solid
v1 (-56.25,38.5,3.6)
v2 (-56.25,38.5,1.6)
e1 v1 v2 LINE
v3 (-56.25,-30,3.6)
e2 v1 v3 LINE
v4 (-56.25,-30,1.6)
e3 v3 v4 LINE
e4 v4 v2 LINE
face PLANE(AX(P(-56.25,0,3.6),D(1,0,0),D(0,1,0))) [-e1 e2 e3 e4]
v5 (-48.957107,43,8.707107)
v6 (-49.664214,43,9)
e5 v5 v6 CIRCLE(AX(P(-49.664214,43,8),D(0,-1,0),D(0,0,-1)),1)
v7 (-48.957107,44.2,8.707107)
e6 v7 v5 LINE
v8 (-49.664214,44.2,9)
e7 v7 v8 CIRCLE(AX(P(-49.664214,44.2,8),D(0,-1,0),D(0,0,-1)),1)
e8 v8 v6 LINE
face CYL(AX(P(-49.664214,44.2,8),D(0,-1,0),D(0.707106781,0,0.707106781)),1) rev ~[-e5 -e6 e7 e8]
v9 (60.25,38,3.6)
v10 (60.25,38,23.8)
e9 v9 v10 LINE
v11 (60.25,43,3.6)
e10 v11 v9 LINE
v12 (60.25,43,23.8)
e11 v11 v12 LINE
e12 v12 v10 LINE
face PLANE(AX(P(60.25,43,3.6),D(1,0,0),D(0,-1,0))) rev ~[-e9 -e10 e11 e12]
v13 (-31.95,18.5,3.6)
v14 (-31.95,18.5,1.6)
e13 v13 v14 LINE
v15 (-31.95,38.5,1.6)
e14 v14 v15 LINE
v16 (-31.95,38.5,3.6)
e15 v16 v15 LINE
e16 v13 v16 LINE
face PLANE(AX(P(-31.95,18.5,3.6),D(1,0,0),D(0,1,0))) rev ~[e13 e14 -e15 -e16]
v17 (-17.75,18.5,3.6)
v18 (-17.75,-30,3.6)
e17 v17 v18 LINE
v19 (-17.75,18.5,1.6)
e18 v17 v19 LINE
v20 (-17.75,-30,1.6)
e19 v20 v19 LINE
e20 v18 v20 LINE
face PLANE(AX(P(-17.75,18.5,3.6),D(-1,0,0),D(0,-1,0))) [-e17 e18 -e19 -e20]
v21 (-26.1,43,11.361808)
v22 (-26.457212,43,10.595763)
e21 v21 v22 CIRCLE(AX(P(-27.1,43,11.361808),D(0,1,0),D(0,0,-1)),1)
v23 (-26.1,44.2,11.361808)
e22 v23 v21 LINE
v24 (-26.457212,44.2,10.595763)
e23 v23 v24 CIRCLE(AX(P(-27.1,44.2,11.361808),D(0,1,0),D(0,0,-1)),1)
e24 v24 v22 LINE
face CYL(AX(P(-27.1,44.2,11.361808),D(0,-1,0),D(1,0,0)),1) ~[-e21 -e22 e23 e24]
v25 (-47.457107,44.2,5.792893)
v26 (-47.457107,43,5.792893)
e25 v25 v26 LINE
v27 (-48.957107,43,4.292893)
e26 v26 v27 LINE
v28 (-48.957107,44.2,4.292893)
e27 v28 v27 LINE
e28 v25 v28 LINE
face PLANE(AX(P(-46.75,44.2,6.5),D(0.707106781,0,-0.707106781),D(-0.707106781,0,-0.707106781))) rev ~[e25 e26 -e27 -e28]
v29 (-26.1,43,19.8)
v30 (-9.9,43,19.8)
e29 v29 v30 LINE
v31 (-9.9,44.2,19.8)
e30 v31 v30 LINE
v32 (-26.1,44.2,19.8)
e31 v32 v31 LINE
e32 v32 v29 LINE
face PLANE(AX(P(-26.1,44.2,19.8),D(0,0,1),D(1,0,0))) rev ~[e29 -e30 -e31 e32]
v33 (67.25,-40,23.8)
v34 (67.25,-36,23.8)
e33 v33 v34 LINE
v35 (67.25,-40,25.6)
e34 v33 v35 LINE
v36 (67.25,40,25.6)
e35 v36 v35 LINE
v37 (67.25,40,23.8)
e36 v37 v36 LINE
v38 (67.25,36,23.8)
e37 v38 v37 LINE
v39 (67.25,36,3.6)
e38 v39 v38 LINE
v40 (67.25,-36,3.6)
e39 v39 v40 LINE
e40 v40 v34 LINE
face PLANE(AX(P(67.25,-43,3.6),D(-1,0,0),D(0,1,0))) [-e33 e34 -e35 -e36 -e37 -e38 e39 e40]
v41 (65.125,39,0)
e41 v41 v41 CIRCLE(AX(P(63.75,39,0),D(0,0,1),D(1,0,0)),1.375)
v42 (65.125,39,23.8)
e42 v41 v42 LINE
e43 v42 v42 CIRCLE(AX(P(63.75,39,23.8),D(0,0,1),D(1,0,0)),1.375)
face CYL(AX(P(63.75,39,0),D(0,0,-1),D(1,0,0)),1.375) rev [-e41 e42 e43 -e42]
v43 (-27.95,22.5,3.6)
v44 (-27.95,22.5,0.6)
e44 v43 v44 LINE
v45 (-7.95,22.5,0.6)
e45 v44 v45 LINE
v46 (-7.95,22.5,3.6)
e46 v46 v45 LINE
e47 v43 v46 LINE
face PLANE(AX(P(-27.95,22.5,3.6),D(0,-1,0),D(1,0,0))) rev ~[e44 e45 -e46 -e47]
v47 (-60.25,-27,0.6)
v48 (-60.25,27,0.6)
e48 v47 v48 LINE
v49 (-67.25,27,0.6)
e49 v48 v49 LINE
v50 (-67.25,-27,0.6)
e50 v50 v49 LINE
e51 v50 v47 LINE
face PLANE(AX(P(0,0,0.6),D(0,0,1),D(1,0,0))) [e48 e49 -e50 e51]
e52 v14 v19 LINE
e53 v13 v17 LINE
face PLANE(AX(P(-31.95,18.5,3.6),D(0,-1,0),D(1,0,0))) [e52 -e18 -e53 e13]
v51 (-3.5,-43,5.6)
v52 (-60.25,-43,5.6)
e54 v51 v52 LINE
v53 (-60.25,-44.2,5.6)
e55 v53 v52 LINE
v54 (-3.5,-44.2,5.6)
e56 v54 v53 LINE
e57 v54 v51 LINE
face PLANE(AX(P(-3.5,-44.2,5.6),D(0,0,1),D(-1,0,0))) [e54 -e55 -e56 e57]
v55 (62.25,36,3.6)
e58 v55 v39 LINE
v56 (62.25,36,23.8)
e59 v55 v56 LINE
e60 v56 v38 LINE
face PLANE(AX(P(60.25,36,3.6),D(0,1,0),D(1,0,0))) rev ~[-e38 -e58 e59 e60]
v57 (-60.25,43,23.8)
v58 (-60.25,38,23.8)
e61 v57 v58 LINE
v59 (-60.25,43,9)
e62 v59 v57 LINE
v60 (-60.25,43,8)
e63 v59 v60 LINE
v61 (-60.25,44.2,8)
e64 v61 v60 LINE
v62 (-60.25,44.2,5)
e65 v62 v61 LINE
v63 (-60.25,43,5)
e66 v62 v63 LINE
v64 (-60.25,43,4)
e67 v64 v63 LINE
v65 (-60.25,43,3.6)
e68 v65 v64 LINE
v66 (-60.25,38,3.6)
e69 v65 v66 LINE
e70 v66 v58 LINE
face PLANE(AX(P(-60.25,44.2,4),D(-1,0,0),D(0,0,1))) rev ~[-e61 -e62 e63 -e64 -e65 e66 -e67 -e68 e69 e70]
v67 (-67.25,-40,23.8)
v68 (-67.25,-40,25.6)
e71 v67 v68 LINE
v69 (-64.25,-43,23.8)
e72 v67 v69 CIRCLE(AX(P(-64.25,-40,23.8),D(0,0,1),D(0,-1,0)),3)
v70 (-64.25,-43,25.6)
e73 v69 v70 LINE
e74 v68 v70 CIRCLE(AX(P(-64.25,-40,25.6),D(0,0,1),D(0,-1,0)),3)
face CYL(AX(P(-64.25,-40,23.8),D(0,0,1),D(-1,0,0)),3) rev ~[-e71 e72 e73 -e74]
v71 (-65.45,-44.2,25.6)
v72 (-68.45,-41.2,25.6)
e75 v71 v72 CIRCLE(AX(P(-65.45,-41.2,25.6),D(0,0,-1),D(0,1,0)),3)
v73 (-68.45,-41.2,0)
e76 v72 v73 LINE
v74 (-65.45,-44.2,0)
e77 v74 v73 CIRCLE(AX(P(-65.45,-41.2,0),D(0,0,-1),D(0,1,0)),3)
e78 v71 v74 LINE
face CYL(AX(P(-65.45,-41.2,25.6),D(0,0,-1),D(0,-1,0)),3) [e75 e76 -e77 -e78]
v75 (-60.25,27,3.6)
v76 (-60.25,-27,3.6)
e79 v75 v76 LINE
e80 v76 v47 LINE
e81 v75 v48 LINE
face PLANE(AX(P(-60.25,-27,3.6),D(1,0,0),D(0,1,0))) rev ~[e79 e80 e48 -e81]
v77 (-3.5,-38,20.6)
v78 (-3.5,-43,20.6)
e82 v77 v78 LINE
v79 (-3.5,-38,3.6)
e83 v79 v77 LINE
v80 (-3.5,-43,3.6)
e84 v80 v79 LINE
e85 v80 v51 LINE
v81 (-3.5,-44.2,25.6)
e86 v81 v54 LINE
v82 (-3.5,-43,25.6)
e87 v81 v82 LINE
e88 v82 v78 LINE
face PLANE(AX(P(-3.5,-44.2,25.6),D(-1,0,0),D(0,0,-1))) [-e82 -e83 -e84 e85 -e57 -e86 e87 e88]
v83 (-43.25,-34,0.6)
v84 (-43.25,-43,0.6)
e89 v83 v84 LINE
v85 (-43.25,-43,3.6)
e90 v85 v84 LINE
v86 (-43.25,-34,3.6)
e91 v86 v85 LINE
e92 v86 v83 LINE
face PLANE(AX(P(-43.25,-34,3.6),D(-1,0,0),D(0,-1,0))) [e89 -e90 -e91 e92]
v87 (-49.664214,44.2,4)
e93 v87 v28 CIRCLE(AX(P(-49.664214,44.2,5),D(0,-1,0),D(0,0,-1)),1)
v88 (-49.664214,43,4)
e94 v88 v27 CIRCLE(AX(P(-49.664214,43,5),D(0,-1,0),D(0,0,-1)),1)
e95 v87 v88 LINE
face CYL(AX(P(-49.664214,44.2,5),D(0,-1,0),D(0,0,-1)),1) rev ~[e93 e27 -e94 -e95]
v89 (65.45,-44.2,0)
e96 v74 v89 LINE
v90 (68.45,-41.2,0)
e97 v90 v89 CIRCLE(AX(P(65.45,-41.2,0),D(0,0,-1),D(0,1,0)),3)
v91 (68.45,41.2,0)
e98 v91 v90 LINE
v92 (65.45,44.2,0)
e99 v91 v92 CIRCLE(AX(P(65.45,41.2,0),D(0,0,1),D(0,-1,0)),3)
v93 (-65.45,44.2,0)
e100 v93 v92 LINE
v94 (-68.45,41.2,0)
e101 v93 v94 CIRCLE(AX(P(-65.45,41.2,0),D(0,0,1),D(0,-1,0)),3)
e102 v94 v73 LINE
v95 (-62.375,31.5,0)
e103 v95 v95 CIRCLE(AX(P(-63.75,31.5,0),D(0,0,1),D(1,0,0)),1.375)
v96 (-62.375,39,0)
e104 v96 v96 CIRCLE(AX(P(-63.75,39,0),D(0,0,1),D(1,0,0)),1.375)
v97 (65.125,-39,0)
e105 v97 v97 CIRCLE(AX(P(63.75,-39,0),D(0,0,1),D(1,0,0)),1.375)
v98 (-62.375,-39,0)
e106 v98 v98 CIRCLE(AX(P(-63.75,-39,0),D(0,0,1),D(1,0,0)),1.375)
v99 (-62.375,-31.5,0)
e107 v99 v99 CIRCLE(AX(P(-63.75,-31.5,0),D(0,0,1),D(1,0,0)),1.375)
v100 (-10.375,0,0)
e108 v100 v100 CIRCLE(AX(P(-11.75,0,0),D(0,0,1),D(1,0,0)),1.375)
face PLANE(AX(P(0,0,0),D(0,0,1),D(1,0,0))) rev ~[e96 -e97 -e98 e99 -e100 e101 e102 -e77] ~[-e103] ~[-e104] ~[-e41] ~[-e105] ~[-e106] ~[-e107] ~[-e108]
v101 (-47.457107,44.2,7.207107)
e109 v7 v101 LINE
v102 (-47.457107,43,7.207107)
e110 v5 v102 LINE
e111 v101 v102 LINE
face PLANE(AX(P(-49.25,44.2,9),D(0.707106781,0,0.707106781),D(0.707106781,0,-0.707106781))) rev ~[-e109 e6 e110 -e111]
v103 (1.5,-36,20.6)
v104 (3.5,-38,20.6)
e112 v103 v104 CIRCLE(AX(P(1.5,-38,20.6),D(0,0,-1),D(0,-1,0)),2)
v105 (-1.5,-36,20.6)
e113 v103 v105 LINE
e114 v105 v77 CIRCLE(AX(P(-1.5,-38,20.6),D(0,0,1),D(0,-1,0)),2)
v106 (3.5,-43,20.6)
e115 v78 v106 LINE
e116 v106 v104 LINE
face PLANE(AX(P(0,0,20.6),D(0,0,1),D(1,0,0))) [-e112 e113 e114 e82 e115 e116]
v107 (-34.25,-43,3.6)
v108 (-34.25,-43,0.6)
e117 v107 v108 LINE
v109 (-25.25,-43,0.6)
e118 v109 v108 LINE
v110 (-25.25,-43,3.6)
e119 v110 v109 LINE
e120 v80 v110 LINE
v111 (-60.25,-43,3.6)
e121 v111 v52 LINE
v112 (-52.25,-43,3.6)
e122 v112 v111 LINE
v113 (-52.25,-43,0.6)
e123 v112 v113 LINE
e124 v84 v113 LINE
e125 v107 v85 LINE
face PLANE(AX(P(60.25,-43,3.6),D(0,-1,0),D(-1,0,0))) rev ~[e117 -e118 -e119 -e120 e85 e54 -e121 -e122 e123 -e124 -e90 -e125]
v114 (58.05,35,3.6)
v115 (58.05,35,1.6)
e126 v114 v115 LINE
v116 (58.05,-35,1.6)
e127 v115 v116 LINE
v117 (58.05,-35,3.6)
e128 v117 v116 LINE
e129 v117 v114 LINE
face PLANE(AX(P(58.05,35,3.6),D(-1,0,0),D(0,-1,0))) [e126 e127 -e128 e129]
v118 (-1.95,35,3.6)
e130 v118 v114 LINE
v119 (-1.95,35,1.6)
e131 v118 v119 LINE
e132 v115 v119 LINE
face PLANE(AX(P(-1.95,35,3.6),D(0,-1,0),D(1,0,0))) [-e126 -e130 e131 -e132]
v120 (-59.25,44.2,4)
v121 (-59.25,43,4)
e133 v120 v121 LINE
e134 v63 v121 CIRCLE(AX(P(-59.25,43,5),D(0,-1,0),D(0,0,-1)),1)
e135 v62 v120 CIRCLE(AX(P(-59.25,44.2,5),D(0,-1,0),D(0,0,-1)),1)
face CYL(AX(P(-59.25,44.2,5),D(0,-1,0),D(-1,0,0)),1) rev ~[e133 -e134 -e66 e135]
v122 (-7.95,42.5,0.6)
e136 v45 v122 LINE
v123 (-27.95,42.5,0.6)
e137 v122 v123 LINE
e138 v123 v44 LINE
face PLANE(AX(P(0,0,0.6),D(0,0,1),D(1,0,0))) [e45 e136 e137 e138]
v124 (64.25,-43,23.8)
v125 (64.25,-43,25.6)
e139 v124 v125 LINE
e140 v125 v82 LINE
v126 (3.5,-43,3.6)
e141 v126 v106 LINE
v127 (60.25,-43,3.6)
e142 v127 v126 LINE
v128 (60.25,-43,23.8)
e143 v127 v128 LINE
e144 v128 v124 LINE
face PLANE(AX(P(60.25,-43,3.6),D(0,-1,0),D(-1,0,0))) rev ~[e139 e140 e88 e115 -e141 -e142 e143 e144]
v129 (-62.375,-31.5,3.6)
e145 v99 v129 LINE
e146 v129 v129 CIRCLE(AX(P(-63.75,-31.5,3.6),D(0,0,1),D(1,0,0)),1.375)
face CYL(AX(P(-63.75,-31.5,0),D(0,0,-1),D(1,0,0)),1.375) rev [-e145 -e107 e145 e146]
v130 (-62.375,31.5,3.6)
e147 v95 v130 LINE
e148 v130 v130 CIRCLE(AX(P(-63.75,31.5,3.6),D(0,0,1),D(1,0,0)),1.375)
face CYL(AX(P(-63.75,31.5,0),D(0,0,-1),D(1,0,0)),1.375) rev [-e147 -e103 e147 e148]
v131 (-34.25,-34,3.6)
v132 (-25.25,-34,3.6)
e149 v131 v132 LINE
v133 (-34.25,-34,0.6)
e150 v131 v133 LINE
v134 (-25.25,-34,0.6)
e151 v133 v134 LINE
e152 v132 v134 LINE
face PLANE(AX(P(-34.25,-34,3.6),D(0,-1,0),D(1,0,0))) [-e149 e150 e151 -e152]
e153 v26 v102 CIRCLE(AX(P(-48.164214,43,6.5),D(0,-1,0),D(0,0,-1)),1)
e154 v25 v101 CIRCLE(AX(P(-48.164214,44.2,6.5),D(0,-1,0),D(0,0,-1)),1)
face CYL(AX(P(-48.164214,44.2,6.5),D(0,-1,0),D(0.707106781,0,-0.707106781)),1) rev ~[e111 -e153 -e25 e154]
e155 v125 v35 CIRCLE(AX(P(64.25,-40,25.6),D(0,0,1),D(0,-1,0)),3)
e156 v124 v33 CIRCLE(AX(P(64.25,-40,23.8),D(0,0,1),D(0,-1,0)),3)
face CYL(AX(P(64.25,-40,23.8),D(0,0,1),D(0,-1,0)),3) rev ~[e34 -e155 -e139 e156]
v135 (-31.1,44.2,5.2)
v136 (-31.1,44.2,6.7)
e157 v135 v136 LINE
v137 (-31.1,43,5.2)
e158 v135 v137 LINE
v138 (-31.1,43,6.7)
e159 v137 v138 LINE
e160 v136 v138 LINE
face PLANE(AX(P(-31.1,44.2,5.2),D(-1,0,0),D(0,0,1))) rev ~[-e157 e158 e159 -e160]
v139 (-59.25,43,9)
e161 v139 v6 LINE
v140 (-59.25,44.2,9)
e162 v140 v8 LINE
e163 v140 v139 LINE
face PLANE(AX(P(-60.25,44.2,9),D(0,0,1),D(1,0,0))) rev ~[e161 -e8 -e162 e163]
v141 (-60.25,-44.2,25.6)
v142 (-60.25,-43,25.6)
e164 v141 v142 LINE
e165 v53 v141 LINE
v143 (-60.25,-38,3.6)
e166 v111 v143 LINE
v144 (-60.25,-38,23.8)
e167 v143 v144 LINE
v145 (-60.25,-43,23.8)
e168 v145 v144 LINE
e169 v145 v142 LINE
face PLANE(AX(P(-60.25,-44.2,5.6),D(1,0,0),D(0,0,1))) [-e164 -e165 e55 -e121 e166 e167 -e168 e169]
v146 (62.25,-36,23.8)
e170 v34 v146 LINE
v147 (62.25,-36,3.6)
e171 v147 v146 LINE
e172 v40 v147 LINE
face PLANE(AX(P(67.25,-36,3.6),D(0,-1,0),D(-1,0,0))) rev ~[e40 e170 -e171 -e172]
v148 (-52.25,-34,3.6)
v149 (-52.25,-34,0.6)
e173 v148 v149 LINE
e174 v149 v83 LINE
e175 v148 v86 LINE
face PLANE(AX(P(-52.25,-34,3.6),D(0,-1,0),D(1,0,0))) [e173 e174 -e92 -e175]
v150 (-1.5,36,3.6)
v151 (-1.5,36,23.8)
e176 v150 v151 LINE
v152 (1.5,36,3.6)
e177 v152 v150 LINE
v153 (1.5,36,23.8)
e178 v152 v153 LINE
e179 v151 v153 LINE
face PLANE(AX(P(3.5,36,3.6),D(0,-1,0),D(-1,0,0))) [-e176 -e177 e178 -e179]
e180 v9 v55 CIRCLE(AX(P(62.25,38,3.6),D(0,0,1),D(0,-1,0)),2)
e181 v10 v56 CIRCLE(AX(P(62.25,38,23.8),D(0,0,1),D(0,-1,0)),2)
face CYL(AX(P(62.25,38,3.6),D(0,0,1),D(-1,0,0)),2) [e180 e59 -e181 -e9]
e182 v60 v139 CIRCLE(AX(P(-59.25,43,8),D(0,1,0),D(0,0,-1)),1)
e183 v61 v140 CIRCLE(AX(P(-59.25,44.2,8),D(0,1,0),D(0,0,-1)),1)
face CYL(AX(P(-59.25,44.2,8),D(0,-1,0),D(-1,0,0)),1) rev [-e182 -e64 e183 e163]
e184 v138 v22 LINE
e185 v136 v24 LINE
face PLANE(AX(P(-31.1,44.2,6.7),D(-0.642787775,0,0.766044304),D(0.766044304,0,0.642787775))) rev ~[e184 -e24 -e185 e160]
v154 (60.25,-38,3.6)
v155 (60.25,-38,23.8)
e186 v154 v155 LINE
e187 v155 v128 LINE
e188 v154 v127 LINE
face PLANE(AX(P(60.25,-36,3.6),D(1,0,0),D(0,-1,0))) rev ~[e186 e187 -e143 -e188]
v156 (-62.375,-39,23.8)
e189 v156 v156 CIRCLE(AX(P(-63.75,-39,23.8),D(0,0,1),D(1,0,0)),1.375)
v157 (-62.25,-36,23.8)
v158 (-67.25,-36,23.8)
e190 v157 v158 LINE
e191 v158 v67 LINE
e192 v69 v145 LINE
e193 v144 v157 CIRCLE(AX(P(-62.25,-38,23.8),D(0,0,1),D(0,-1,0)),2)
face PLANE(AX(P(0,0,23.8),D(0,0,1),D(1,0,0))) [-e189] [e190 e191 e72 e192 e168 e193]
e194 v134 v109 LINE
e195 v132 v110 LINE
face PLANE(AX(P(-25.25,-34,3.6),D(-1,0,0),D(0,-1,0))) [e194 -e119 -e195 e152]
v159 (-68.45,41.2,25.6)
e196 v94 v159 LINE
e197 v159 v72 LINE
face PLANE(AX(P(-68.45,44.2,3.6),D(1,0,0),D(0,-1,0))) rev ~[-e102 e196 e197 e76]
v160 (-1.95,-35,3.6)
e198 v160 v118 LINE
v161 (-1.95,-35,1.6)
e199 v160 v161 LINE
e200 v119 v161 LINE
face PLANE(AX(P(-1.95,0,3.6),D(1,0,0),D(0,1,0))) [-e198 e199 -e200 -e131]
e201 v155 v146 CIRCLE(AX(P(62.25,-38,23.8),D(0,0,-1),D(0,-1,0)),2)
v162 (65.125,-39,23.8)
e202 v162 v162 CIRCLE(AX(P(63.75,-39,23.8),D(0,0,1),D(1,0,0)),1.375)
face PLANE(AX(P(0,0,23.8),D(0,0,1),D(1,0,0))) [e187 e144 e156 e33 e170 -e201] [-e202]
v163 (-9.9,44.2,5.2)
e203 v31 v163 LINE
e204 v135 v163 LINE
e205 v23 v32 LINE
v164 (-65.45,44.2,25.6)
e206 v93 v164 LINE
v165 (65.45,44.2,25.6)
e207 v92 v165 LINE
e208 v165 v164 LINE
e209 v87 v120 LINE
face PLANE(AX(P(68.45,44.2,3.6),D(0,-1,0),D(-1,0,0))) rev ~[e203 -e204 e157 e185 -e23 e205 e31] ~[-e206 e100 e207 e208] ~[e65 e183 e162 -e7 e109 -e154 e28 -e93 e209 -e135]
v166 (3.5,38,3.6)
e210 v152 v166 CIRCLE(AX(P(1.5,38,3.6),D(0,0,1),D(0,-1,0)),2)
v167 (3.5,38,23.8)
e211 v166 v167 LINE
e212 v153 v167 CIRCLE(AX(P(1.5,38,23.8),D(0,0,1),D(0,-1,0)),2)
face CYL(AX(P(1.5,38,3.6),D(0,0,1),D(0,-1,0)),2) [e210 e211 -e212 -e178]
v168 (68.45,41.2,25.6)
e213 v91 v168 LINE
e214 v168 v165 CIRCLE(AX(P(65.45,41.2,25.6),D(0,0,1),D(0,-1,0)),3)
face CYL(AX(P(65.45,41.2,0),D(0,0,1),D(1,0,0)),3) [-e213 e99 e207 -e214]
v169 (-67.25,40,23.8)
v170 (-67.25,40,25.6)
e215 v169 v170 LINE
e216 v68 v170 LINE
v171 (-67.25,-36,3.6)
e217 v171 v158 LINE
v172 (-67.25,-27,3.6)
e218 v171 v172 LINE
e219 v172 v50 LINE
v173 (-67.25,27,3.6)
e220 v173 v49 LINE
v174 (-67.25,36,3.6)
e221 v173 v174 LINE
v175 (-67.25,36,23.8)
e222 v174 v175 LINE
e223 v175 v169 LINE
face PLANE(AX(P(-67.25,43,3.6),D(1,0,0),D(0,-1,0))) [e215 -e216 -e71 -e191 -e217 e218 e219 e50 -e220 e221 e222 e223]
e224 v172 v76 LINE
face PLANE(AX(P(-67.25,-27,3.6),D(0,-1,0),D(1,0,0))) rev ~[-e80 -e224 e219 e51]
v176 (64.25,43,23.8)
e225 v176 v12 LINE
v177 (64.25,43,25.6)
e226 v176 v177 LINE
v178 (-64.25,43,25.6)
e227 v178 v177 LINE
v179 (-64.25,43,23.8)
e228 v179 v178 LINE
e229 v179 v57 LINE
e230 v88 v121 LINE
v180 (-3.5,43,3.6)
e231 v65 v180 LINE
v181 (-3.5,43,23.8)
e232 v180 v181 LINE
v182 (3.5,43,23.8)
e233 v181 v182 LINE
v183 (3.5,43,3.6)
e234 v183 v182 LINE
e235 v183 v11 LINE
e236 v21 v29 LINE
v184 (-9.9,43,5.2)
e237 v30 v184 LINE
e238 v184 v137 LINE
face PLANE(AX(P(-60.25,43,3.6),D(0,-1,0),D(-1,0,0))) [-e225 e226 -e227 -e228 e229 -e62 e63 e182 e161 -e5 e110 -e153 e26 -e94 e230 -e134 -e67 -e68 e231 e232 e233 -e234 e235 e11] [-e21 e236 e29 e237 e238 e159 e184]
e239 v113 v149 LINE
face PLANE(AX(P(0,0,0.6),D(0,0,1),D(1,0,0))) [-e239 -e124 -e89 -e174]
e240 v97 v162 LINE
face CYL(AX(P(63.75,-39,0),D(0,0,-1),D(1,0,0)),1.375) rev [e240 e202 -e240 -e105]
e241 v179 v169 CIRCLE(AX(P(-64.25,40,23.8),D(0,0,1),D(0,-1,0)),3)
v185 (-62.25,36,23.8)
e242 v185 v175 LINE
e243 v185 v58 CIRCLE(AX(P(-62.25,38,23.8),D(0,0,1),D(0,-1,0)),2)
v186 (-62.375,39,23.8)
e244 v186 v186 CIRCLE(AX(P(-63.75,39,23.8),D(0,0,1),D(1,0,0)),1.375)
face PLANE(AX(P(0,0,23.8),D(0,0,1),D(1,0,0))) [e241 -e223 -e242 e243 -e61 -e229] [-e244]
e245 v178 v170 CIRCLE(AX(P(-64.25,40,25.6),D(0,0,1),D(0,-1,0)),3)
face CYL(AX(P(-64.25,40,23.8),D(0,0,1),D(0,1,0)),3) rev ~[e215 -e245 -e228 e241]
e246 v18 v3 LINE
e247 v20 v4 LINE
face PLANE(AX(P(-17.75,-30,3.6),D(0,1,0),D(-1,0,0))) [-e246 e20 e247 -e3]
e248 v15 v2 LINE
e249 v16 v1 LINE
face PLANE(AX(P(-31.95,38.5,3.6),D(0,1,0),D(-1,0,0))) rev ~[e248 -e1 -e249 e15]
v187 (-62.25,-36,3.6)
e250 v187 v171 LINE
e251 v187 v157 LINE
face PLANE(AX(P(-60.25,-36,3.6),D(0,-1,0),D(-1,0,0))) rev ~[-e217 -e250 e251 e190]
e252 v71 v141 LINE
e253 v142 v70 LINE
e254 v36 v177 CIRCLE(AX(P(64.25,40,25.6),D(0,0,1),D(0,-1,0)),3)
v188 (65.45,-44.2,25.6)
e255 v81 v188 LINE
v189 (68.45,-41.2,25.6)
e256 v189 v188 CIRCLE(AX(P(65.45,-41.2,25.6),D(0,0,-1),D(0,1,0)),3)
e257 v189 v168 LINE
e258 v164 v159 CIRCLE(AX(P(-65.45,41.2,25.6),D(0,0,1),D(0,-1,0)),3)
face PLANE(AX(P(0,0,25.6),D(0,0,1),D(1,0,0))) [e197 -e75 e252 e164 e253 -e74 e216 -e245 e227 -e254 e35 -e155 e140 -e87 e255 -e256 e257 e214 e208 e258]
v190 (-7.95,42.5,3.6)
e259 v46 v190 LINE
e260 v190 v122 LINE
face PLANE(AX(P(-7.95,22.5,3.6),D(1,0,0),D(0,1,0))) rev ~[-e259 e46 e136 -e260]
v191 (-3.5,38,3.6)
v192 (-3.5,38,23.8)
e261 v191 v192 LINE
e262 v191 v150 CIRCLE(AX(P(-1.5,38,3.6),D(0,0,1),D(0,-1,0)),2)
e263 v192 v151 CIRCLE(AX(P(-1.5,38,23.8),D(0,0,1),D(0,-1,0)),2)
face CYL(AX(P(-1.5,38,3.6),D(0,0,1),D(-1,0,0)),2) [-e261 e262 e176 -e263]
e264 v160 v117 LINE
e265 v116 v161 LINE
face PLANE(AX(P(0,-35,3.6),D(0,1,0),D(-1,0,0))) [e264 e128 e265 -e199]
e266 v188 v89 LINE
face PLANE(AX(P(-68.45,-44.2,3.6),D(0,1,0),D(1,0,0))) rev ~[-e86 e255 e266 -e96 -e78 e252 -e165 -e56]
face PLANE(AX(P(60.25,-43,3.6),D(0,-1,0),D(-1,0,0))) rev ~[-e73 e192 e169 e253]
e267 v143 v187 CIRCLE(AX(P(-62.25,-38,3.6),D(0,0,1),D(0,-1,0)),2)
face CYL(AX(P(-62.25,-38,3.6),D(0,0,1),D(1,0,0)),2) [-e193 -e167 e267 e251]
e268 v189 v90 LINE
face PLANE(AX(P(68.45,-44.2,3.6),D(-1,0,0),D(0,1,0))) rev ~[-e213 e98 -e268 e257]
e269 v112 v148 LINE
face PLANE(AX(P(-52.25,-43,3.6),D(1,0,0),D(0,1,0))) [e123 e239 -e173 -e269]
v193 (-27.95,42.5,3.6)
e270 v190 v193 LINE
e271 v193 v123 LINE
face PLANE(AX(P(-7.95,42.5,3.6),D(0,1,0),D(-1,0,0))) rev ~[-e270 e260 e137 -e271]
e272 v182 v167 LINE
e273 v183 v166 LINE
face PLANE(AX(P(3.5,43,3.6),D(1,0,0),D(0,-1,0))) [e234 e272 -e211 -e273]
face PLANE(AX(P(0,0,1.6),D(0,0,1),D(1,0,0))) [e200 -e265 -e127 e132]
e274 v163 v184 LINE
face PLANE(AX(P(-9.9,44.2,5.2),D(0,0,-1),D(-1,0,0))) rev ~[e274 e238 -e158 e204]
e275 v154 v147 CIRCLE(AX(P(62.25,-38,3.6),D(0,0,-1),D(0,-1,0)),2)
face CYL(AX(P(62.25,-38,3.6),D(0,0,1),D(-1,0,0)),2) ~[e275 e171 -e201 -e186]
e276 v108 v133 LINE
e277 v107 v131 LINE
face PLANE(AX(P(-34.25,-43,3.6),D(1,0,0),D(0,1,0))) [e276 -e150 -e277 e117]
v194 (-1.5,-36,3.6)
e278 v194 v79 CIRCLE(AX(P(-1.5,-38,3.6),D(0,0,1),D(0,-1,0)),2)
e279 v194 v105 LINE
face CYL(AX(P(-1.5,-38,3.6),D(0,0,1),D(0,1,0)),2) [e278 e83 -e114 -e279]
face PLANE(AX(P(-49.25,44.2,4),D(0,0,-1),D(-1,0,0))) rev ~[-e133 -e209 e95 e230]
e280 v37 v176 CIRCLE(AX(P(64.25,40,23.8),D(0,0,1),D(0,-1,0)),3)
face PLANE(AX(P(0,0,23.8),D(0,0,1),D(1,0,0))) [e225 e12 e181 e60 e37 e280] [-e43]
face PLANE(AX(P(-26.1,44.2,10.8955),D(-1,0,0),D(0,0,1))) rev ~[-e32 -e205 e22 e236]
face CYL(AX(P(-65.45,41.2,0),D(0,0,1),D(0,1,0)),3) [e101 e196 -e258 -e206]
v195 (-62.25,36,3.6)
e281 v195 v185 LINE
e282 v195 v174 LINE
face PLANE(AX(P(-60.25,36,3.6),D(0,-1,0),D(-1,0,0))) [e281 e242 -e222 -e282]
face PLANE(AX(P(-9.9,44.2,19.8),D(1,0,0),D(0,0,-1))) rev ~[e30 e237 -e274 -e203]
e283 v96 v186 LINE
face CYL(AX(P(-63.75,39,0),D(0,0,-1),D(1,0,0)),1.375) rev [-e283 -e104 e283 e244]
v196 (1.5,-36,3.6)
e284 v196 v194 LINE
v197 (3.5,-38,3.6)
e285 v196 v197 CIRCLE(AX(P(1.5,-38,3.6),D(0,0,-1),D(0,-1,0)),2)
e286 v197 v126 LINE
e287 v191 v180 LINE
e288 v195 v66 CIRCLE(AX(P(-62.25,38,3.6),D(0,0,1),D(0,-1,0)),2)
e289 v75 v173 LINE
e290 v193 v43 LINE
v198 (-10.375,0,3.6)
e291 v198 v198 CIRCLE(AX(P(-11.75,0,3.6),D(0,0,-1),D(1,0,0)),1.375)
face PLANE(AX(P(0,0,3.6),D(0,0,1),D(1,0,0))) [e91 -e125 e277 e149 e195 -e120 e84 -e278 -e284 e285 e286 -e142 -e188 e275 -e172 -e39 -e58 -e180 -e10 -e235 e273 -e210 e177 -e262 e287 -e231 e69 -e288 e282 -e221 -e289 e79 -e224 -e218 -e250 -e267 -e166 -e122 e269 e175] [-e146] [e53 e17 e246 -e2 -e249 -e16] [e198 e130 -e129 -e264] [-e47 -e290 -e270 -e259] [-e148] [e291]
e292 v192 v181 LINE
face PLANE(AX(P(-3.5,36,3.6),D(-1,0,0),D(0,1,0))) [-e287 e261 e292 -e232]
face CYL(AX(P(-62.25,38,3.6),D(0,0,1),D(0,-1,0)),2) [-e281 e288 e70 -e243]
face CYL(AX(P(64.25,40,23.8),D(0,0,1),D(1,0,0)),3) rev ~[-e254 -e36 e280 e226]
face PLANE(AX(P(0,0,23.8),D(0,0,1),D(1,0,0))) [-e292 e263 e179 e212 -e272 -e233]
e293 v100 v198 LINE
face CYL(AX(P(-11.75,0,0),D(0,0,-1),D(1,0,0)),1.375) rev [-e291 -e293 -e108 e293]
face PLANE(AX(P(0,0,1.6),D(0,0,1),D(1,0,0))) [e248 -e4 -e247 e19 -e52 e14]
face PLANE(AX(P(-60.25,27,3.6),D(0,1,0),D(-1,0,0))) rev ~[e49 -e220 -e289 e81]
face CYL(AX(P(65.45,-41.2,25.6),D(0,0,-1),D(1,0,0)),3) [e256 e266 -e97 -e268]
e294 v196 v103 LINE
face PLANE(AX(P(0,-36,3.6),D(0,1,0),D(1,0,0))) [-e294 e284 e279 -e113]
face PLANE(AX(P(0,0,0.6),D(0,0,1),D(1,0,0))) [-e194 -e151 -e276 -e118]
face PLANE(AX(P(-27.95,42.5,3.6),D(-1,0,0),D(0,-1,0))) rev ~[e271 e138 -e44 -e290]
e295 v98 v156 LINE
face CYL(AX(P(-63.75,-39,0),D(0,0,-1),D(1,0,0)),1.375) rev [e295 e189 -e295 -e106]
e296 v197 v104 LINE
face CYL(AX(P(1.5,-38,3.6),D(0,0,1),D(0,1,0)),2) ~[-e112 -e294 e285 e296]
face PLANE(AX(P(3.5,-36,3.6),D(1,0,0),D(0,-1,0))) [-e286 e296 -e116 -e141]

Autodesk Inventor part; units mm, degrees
ref_plane "YZ Plane" through (0, 0, 0) normal (1, 0, 0) x (0, 1, 0)
ref_plane "XZ Plane" through (0, 0, 0) normal (0, 1, 0) x (-1, 0, 0)
ref_plane "XY Plane" through (0, 0, 0) normal (0, 0, 1) x (1, 0, 0)
sketch "Skizze1" plane through (0, 0, 0) normal (0, 0, 1) x (1, 0, 0)
  line L0 (-68.45, -44.2) -> (68.45, -44.2)
  line L1 (68.45, -44.2) -> (68.45, 44.2)
  line L2 (68.45, 44.2) -> (-68.45, 44.2)
  line L3 (-68.45, 44.2) -> (-68.45, -44.2)
  line L4 (-68.45, -44.2) -> (68.45, 44.2) construction
  line L5 (68.45, -44.2) -> (-68.45, 44.2) construction
  circle A0 centre (-63.75, -39) radius 1.375
  circle A1 centre (63.75, -39) radius 1.375
  circle A2 centre (63.75, 39) radius 1.375
  circle A3 centre (-63.75, 39) radius 1.375
  line L6 (0, 61.88) -> (0, -61.88) projected
  line L7 (-95.83, 0) -> (95.83, 0) projected
  circle A4 centre (-63.75, 31.5) radius 1.375
  circle A5 centre (-63.75, -31.5) radius 1.375
  line L8 (-63.75, 39) -> (-63.75, 31.5) construction
  circle A6 centre (-11.75, 0) radius 1.375
  point P0 (0, 0)
  dimension "d0" = 136.9
  dimension "d1" = 88.4
  dimension "d2" = 2.75
  dimension "d3" = 127.5
  dimension "d4" = 78
  dimension "d7" = 63
  dimension "d8" = 2.75
  dimension "d9" = 2.75
  dimension "d10" = 52
extrude "Extrusion1" add sketch "Skizze1" along normal blind 3.6 contours L3 L7 A6 L6 L0 | L6 L7 L1 L0 | L3 L2 L6 L7 A6 | L6 L2 L1 L7
sketch "Skizze2" plane through (0, 0, 0) normal (0, 0, -1) x (-1, 0, 0)
  circle A0 centre (63.75, -31.5) radius 1.375 projected
  circle A1 centre (63.75, 31.5) radius 1.375 projected
  circle A2 centre (11.75, 0) radius 1.375 projected
  line L0 (67.05, -28.2) -> (60.45, -28.2)
  line L1 (60.45, -28.2) -> (60.45, -34.8)
  line L2 (60.45, -34.8) -> (67.05, -34.8)
  line L3 (67.05, -34.8) -> (67.05, -28.2)
  line L4 (67.05, -28.2) -> (60.45, -34.8) construction
  line L5 (60.45, -28.2) -> (67.05, -34.8) construction
  line L6 (67.05, 34.8) -> (60.45, 34.8)
  line L7 (60.45, 34.8) -> (60.45, 28.2)
  line L8 (60.45, 28.2) -> (67.05, 28.2)
  line L9 (67.05, 28.2) -> (67.05, 34.8)
  circle A3 centre (63.75, 31.5) radius 1.375 projected
  line L10 (67.05, 34.8) -> (60.45, 28.2) construction
  line L11 (60.45, 34.8) -> (67.05, 28.2) construction
  line L12 (15.05, 3.3) -> (8.45, 3.3)
  line L13 (8.45, 3.3) -> (8.45, -3.3)
  line L14 (8.45, -3.3) -> (15.05, -3.3)
  line L15 (15.05, -3.3) -> (15.05, 3.3)
  line L16 (15.05, 3.3) -> (8.45, -3.3) construction
  line L17 (8.45, 3.3) -> (15.05, -3.3) construction
  point P0 (0, 0)
  dimension "d11" = 6.6
  dimension "d12" = 6.6
extrude "Extrusion2" [suppressed]
sketch "Skizze3" plane through (0, 0, 3.6) normal (0, 0, 1) x (1, 0, 0)
  circle A0 centre (-63.75, 31.5) radius 1.375 projected
  circle A1 centre (-63.75, -31.5) radius 1.375 projected
  circle A2 centre (-11.75, 0) radius 1.375 projected
  line L0 (-63.75, 31.5) -> (-63.75, -31.5) construction
  line L1 (-95.83, 0) -> (95.83, 0) projected
  line L2 (-67.25, -27) -> (-60.25, -27)
  line L3 (-60.25, -27) -> (-60.25, 27)
  line L4 (-60.25, 27) -> (-67.25, 27)
  line L5 (-67.25, 27) -> (-67.25, -27)
  line L6 (-67.25, -27) -> (-60.25, 27) construction
  line L7 (-60.25, -27) -> (-67.25, 27) construction
  line L8 (-52.25, -34) -> (-43.25, -34)
  line L9 (-43.25, -34) -> (-43.25, -43)
  line L10 (-43.25, -43) -> (-52.25, -43)
  line L11 (-52.25, -43) -> (-52.25, -34)
  line L12 (-34.25, -34) -> (-25.25, -34)
  line L13 (-25.25, -34) -> (-25.25, -43)
  line L14 (-25.25, -43) -> (-34.25, -43)
  line L15 (-34.25, -43) -> (-34.25, -34)
  line L16 (-47.75, -34) -> (-47.75, -43) construction
  line L17 (-29.75, -34) -> (-29.75, -43) construction
  line L18 (-52.25, -38.5) -> (-43.25, -38.5) construction
  line L19 (-27.95, 22.5) -> (-7.95, 22.5)
  line L20 (-7.95, 22.5) -> (-7.95, 42.5)
  line L21 (-7.95, 42.5) -> (-27.95, 42.5)
  line L22 (-27.95, 42.5) -> (-27.95, 22.5)
  line L23 (-17.95, 42.5) -> (-17.95, 22.5) construction
  point P0 (0, 0)
  point P1 (-63.75, 0)
  dimension "d15" = 7
  dimension "d16" = 54
  dimension "d17" = 9
  dimension "d18" = 9
  dimension "d19" = 9
  dimension "d20" = 18
  dimension "d21" = 16
  dimension "d22" = 7
  dimension "d23" = 20
  dimension "d25" = 11
  dimension "d26" = 20
  dimension "d29" = 45.8
extrude "Extrusion3" cut sketch "Skizze3" against normal blind 3 contours L3 L2 L5 L1 | L1 L5 L4 L3 | L8 L9 L10 L11 | L12 L13 L14 L15 | L22 L21 L20 L19
sketch "Skizze4" plane through (0, 0, 3.6) normal (0, 0, 1) x (1, 0, 0)
  line L0 (-31.95, 18.5) -> (-17.75, 18.5)
  line L1 (-17.75, 18.5) -> (-17.75, -30)
  line L2 (-17.75, -30) -> (-56.25, -30)
  line L3 (-56.25, -30) -> (-56.25, 38.5)
  line L4 (-31.95, 18.5) -> (-31.95, 38.5)
  line L5 (-31.95, 38.5) -> (-56.25, 38.5)
  line L6 (-1.95, 35) -> (58.05, 35)
  line L7 (58.05, 35) -> (58.05, -35)
  line L8 (58.05, -35) -> (-1.95, -35)
  line L9 (-1.95, -35) -> (-1.95, 35)
  line L10 (-7.95, 22.5) -> (-27.95, 22.5) projected
  line L11 (-7.95, 42.5) -> (-7.95, 22.5) projected
  line L12 (-27.95, 42.5) -> (-7.95, 42.5) projected
  line L13 (-27.95, 22.5) -> (-27.95, 42.5) projected
  line L14 (-60.25, -27) -> (-67.25, -27) projected
  line L15 (-60.25, 27) -> (-60.25, -27) projected
  line L16 (-67.25, 27) -> (-60.25, 27) projected
  line L17 (-67.25, -27) -> (-67.25, 27) projected
  line L18 (-34.25, -34) -> (-25.25, -34) projected
  line L19 (-34.25, -43) -> (-34.25, -34) projected
  line L20 (-25.25, -43) -> (-34.25, -43) projected
  line L21 (-25.25, -34) -> (-25.25, -43) projected
  circle A0 centre (-11.75, 0) radius 1.375 projected
  line L22 (-95.83, 0) -> (95.83, 0) projected
  line L23 (0, 61.88) -> (0, -61.88) projected
  point P0 (0, 0)
  dimension "d30" = 4
  dimension "d31" = 4
  dimension "d32" = 4
  dimension "d34" = 4
  dimension "d35" = 6
  dimension "d36" = 4
  dimension "d37" = 6
  dimension "d38" = 70
  dimension "d39" = 60
extrude "Extrusion4" cut sketch "Skizze4" against normal blind 2 contours L9 L6 L23 L22 | L22 L23 L8 L9 | L0 L1 L22 L3 L5 L4 | L1 L2 L3 L22 | L23 L6 L7 L22 | L22 L7 L8 L23
sketch "Skizze5" plane through (0, 0, 3.6) normal (0, 0, 1) x (1, 0, 0)
  circle A0 centre (-63.75, 39) radius 1.375 projected
  circle A1 centre (-63.75, -39) radius 1.375 projected
  circle A2 centre (63.75, -39) radius 1.375 projected
  circle A3 centre (63.75, 39) radius 1.375 projected
  line L0 (-67.25, 43) -> (-60.25, 43)
  line L1 (-60.25, 43) -> (-60.25, 36)
  line L2 (-60.25, 36) -> (-67.25, 36)
  line L3 (-67.25, 36) -> (-67.25, 43)
  line L4 (-67.25, -43) -> (-60.25, -43)
  line L5 (-60.25, -43) -> (-60.25, -36)
  line L6 (-60.25, -36) -> (-67.25, -36)
  line L7 (-67.25, -36) -> (-67.25, -43)
  line L8 (60.25, 36) -> (67.25, 36)
  line L9 (67.25, 36) -> (67.25, 43)
  line L10 (67.25, 43) -> (60.25, 43)
  line L11 (60.25, 43) -> (60.25, 36)
  circle A4 centre (63.75, 39) radius 1.375 projected
  line L12 (60.25, -43) -> (67.25, -43)
  line L13 (67.25, -43) -> (67.25, -36)
  line L14 (67.25, -36) -> (60.25, -36)
  line L15 (60.25, -36) -> (60.25, -43)
  line L16 (0, 61.88) -> (0, -61.88) projected
  line L17 (-95.83, 0) -> (95.83, 0) projected
  line L18 (-63.75, 36) -> (-63.75, 43) construction
  line L19 (3.5, -43) -> (-3.5, -43)
  line L20 (-3.5, -43) -> (-3.5, -36)
  line L21 (-3.5, -36) -> (3.5, -36)
  line L22 (3.5, -36) -> (3.5, -43)
  line L23 (3.5, 36) -> (-3.5, 36)
  line L24 (-3.5, 36) -> (-3.5, 43)
  line L25 (-3.5, 43) -> (3.5, 43)
  line L26 (3.5, 43) -> (3.5, 36)
  point P0 (0, 0)
  dimension "d42" = 7
  dimension "d46" = 3
  dimension "d47" = 4
  dimension "d51" = 7
extrude "Extrusion5" add sketch "Skizze5" along normal blind 20.2
sketch "Skizze7" plane through (0, 0, 23.8) normal (0, 0, 1) x (1, 0, 0)
  line L0 (-3.5, -43) -> (3.5, -43) projected
  line L1 (3.5, -43) -> (3.5, -36) projected
  line L2 (3.5, -36) -> (-3.5, -36) projected
  line L3 (-3.5, -36) -> (-3.5, -43) projected
  point P0 (0, 0)
extrude "Extrusion7" cut sketch "Skizze7" against normal blind 3.2
fillet "Rundung1" radius 2 8 edges at (-60.25, 36, 13.7) (-60.25, -36, 13.7) (60.25, 36, 13.7) (60.25, -36, 13.7) (3.5, -36, 12.1) (3.5, 36, 13.7) (-3.5, 36, 13.7) (-3.5, -36, 12.1)
sketch "Skizze6" plane through (0, 0, 3.6) normal (0, 0, 1) x (1, 0, 0)
  line L0 (-60.25, 43) -> (-67.25, 43) projected
  line L1 (-67.25, 43) -> (-67.25, 36) projected
  line L2 (67.25, -43) -> (67.25, -36) projected
  line L3 (60.25, -43) -> (67.25, -43) projected
  line L4 (-67.25, 43) -> (67.25, 43)
  line L5 (67.25, 43) -> (67.25, -43)
  line L6 (67.25, -43) -> (-67.25, -43)
  line L7 (-67.25, -43) -> (-67.25, 43)
  line L8 (68.45, 44.2) -> (-68.45, 44.2)
  line L9 (-68.45, 44.2) -> (-68.45, -44.2)
  line L10 (-68.45, -44.2) -> (68.45, -44.2)
  line L11 (68.45, -44.2) -> (68.45, 44.2)
  point P0 (0, 0)
  dimension "d48" = 1.2
extrude "Extrusion6" add sketch "Skizze6" along normal blind 22
sketch "Skizze8" plane through (-68.45, 44.2, 0) normal (0, 1, 0) x (1, 0, 0)
  line L0 (68.45, 3.96) -> (68.45, -23.76) projected
  line L1 (164.28, 0) -> (-27.38, 0) projected
  line L2 (19.2, -4) -> (8.2, -4)
  line L3 (8.2, -4) -> (8.2, -9)
  line L4 (8.2, -9) -> (19.2, -9)
  line L5 (19.2, -9) -> (19.2, -4)
  line L6 (19.2, -4) -> (8.2, -9) construction
  line L7 (8.2, -4) -> (19.2, -9) construction
  line L8 (58.55, -5.2) -> (42.35, -5.2)
  line L9 (42.35, -5.2) -> (42.35, -19.8)
  line L10 (42.35, -19.8) -> (58.55, -19.8)
  line L11 (58.55, -19.8) -> (58.55, -5.2)
  line L12 (58.55, -5.2) -> (42.35, -19.8) construction
  line L13 (42.35, -5.2) -> (58.55, -19.8) construction
  line L14 (42.35, -5.2) -> (37.35, -5.2)
  line L15 (37.35, -5.2) -> (37.35, -6.7)
  line L16 (37.35, -6.7) -> (42.35, -10.8955)
  line L17 (19.2, -9) -> (21.7, -6.5)
  line L18 (21.7, -6.5) -> (19.2, -4)
  line L19 (21.7, -6.5) -> (13.7, -6.5) construction
  point P0 (68.45, 0)
  point P1 (50.45, -12.5)
  dimension "d55" = 54.75
  dimension "d56" = 6.5
  dimension "d57" = 11
  dimension "d58" = 5
  dimension "d61" = 18
  dimension "d63" = 14.6
  dimension "d64" = 16.2
  dimension "d65" = 5.2
  dimension "d66" = 50
  dimension "d67" = 1.5
  dimension "d68" = 5
  dimension "d69" = 2.5
extrude "Extrusion8" cut sketch "Skizze8" against normal up to surface (1.2 mm away)
sketch "Skizze9" plane through (-68.45, -44.2, 0) normal (0, -1, 0) x (1, 0, 0)
  line L0 (0, 0) -> (136.9, 0) projected
  line L1 (136.9, 0) -> (136.9, 25.6) projected
  line L2 (0, 25.6) -> (136.9, 25.6) projected
  line L3 (0, 0) -> (0, 25.6) projected
  line L4 (135.7, 25.6) -> (1.2, 25.6) projected
  line L5 (8.2, 25.6) -> (64.95, 25.6)
  line L6 (64.95, 25.6) -> (64.95, 5.6)
  line L7 (64.95, 5.6) -> (8.2, 5.6)
  line L8 (8.2, 5.6) -> (8.2, 25.6)
  line L9 (16.2, 3.6) -> (25.2, 3.6) projected
  line L10 (16.2, 3.6) -> (16.2, 0.6) projected
  line L11 (16.2, 0.6) -> (25.2, 0.6) projected
  line L12 (25.2, 3.6) -> (25.2, 0.6) projected
  line L13 (34.2, 3.6) -> (43.2, 3.6) projected
  line L14 (34.2, 3.6) -> (34.2, 0.6) projected
  line L15 (34.2, 0.6) -> (43.2, 0.6) projected
  line L16 (43.2, 3.6) -> (43.2, 0.6) projected
  line L17 (16.2, 0.6) -> (25.2, 0.6) construction
  line L18 (20.7, 0.6) -> (20.7, 3.6) construction
  line L19 (34.2, 0.6) -> (43.2, 0.6) construction
  line L20 (38.7, 0.6) -> (38.7, 3.6) construction
  line L21 (8.2, 23.8) -> (8.2, 3.6) projected
  line L22 (8.2, 3.6) -> (8.2, 23.8) projected
  point P0 (68.45, 0)
  dimension "d73" = 64.95
  dimension "d75" = 2
extrude "Extrusion9" cut sketch "Skizze9" against normal up to surface (1.2 mm away) contours L2 L6 L7 L8
fillet "Rundung2" radius 3 8 edges at (-68.45, -44.2, 12.8) (-68.45, 44.2, 12.8) (68.45, -44.2, 12.8) (68.45, 44.2, 12.8) (67.25, 43, 24.7) (67.25, -43, 24.7) (-67.25, -43, 24.7) (-67.25, 43, 24.7)
fillet "Rundung3" radius 1 6 edges at (-26.1, 43.6, 10.8955) (-49.25, 43.6, 9) (-49.25, 43.6, 4) (-46.75, 43.6, 6.5) (-60.25, 43.6, 9) (-60.25, 43.6, 4)
equation "\"d9\" = d8"
equation "\"d18\" = d17"
equation "\"d51\" = d42"
properties part number "Gehaeuse BS v3" material "PC/ABS-Kunststoff"
